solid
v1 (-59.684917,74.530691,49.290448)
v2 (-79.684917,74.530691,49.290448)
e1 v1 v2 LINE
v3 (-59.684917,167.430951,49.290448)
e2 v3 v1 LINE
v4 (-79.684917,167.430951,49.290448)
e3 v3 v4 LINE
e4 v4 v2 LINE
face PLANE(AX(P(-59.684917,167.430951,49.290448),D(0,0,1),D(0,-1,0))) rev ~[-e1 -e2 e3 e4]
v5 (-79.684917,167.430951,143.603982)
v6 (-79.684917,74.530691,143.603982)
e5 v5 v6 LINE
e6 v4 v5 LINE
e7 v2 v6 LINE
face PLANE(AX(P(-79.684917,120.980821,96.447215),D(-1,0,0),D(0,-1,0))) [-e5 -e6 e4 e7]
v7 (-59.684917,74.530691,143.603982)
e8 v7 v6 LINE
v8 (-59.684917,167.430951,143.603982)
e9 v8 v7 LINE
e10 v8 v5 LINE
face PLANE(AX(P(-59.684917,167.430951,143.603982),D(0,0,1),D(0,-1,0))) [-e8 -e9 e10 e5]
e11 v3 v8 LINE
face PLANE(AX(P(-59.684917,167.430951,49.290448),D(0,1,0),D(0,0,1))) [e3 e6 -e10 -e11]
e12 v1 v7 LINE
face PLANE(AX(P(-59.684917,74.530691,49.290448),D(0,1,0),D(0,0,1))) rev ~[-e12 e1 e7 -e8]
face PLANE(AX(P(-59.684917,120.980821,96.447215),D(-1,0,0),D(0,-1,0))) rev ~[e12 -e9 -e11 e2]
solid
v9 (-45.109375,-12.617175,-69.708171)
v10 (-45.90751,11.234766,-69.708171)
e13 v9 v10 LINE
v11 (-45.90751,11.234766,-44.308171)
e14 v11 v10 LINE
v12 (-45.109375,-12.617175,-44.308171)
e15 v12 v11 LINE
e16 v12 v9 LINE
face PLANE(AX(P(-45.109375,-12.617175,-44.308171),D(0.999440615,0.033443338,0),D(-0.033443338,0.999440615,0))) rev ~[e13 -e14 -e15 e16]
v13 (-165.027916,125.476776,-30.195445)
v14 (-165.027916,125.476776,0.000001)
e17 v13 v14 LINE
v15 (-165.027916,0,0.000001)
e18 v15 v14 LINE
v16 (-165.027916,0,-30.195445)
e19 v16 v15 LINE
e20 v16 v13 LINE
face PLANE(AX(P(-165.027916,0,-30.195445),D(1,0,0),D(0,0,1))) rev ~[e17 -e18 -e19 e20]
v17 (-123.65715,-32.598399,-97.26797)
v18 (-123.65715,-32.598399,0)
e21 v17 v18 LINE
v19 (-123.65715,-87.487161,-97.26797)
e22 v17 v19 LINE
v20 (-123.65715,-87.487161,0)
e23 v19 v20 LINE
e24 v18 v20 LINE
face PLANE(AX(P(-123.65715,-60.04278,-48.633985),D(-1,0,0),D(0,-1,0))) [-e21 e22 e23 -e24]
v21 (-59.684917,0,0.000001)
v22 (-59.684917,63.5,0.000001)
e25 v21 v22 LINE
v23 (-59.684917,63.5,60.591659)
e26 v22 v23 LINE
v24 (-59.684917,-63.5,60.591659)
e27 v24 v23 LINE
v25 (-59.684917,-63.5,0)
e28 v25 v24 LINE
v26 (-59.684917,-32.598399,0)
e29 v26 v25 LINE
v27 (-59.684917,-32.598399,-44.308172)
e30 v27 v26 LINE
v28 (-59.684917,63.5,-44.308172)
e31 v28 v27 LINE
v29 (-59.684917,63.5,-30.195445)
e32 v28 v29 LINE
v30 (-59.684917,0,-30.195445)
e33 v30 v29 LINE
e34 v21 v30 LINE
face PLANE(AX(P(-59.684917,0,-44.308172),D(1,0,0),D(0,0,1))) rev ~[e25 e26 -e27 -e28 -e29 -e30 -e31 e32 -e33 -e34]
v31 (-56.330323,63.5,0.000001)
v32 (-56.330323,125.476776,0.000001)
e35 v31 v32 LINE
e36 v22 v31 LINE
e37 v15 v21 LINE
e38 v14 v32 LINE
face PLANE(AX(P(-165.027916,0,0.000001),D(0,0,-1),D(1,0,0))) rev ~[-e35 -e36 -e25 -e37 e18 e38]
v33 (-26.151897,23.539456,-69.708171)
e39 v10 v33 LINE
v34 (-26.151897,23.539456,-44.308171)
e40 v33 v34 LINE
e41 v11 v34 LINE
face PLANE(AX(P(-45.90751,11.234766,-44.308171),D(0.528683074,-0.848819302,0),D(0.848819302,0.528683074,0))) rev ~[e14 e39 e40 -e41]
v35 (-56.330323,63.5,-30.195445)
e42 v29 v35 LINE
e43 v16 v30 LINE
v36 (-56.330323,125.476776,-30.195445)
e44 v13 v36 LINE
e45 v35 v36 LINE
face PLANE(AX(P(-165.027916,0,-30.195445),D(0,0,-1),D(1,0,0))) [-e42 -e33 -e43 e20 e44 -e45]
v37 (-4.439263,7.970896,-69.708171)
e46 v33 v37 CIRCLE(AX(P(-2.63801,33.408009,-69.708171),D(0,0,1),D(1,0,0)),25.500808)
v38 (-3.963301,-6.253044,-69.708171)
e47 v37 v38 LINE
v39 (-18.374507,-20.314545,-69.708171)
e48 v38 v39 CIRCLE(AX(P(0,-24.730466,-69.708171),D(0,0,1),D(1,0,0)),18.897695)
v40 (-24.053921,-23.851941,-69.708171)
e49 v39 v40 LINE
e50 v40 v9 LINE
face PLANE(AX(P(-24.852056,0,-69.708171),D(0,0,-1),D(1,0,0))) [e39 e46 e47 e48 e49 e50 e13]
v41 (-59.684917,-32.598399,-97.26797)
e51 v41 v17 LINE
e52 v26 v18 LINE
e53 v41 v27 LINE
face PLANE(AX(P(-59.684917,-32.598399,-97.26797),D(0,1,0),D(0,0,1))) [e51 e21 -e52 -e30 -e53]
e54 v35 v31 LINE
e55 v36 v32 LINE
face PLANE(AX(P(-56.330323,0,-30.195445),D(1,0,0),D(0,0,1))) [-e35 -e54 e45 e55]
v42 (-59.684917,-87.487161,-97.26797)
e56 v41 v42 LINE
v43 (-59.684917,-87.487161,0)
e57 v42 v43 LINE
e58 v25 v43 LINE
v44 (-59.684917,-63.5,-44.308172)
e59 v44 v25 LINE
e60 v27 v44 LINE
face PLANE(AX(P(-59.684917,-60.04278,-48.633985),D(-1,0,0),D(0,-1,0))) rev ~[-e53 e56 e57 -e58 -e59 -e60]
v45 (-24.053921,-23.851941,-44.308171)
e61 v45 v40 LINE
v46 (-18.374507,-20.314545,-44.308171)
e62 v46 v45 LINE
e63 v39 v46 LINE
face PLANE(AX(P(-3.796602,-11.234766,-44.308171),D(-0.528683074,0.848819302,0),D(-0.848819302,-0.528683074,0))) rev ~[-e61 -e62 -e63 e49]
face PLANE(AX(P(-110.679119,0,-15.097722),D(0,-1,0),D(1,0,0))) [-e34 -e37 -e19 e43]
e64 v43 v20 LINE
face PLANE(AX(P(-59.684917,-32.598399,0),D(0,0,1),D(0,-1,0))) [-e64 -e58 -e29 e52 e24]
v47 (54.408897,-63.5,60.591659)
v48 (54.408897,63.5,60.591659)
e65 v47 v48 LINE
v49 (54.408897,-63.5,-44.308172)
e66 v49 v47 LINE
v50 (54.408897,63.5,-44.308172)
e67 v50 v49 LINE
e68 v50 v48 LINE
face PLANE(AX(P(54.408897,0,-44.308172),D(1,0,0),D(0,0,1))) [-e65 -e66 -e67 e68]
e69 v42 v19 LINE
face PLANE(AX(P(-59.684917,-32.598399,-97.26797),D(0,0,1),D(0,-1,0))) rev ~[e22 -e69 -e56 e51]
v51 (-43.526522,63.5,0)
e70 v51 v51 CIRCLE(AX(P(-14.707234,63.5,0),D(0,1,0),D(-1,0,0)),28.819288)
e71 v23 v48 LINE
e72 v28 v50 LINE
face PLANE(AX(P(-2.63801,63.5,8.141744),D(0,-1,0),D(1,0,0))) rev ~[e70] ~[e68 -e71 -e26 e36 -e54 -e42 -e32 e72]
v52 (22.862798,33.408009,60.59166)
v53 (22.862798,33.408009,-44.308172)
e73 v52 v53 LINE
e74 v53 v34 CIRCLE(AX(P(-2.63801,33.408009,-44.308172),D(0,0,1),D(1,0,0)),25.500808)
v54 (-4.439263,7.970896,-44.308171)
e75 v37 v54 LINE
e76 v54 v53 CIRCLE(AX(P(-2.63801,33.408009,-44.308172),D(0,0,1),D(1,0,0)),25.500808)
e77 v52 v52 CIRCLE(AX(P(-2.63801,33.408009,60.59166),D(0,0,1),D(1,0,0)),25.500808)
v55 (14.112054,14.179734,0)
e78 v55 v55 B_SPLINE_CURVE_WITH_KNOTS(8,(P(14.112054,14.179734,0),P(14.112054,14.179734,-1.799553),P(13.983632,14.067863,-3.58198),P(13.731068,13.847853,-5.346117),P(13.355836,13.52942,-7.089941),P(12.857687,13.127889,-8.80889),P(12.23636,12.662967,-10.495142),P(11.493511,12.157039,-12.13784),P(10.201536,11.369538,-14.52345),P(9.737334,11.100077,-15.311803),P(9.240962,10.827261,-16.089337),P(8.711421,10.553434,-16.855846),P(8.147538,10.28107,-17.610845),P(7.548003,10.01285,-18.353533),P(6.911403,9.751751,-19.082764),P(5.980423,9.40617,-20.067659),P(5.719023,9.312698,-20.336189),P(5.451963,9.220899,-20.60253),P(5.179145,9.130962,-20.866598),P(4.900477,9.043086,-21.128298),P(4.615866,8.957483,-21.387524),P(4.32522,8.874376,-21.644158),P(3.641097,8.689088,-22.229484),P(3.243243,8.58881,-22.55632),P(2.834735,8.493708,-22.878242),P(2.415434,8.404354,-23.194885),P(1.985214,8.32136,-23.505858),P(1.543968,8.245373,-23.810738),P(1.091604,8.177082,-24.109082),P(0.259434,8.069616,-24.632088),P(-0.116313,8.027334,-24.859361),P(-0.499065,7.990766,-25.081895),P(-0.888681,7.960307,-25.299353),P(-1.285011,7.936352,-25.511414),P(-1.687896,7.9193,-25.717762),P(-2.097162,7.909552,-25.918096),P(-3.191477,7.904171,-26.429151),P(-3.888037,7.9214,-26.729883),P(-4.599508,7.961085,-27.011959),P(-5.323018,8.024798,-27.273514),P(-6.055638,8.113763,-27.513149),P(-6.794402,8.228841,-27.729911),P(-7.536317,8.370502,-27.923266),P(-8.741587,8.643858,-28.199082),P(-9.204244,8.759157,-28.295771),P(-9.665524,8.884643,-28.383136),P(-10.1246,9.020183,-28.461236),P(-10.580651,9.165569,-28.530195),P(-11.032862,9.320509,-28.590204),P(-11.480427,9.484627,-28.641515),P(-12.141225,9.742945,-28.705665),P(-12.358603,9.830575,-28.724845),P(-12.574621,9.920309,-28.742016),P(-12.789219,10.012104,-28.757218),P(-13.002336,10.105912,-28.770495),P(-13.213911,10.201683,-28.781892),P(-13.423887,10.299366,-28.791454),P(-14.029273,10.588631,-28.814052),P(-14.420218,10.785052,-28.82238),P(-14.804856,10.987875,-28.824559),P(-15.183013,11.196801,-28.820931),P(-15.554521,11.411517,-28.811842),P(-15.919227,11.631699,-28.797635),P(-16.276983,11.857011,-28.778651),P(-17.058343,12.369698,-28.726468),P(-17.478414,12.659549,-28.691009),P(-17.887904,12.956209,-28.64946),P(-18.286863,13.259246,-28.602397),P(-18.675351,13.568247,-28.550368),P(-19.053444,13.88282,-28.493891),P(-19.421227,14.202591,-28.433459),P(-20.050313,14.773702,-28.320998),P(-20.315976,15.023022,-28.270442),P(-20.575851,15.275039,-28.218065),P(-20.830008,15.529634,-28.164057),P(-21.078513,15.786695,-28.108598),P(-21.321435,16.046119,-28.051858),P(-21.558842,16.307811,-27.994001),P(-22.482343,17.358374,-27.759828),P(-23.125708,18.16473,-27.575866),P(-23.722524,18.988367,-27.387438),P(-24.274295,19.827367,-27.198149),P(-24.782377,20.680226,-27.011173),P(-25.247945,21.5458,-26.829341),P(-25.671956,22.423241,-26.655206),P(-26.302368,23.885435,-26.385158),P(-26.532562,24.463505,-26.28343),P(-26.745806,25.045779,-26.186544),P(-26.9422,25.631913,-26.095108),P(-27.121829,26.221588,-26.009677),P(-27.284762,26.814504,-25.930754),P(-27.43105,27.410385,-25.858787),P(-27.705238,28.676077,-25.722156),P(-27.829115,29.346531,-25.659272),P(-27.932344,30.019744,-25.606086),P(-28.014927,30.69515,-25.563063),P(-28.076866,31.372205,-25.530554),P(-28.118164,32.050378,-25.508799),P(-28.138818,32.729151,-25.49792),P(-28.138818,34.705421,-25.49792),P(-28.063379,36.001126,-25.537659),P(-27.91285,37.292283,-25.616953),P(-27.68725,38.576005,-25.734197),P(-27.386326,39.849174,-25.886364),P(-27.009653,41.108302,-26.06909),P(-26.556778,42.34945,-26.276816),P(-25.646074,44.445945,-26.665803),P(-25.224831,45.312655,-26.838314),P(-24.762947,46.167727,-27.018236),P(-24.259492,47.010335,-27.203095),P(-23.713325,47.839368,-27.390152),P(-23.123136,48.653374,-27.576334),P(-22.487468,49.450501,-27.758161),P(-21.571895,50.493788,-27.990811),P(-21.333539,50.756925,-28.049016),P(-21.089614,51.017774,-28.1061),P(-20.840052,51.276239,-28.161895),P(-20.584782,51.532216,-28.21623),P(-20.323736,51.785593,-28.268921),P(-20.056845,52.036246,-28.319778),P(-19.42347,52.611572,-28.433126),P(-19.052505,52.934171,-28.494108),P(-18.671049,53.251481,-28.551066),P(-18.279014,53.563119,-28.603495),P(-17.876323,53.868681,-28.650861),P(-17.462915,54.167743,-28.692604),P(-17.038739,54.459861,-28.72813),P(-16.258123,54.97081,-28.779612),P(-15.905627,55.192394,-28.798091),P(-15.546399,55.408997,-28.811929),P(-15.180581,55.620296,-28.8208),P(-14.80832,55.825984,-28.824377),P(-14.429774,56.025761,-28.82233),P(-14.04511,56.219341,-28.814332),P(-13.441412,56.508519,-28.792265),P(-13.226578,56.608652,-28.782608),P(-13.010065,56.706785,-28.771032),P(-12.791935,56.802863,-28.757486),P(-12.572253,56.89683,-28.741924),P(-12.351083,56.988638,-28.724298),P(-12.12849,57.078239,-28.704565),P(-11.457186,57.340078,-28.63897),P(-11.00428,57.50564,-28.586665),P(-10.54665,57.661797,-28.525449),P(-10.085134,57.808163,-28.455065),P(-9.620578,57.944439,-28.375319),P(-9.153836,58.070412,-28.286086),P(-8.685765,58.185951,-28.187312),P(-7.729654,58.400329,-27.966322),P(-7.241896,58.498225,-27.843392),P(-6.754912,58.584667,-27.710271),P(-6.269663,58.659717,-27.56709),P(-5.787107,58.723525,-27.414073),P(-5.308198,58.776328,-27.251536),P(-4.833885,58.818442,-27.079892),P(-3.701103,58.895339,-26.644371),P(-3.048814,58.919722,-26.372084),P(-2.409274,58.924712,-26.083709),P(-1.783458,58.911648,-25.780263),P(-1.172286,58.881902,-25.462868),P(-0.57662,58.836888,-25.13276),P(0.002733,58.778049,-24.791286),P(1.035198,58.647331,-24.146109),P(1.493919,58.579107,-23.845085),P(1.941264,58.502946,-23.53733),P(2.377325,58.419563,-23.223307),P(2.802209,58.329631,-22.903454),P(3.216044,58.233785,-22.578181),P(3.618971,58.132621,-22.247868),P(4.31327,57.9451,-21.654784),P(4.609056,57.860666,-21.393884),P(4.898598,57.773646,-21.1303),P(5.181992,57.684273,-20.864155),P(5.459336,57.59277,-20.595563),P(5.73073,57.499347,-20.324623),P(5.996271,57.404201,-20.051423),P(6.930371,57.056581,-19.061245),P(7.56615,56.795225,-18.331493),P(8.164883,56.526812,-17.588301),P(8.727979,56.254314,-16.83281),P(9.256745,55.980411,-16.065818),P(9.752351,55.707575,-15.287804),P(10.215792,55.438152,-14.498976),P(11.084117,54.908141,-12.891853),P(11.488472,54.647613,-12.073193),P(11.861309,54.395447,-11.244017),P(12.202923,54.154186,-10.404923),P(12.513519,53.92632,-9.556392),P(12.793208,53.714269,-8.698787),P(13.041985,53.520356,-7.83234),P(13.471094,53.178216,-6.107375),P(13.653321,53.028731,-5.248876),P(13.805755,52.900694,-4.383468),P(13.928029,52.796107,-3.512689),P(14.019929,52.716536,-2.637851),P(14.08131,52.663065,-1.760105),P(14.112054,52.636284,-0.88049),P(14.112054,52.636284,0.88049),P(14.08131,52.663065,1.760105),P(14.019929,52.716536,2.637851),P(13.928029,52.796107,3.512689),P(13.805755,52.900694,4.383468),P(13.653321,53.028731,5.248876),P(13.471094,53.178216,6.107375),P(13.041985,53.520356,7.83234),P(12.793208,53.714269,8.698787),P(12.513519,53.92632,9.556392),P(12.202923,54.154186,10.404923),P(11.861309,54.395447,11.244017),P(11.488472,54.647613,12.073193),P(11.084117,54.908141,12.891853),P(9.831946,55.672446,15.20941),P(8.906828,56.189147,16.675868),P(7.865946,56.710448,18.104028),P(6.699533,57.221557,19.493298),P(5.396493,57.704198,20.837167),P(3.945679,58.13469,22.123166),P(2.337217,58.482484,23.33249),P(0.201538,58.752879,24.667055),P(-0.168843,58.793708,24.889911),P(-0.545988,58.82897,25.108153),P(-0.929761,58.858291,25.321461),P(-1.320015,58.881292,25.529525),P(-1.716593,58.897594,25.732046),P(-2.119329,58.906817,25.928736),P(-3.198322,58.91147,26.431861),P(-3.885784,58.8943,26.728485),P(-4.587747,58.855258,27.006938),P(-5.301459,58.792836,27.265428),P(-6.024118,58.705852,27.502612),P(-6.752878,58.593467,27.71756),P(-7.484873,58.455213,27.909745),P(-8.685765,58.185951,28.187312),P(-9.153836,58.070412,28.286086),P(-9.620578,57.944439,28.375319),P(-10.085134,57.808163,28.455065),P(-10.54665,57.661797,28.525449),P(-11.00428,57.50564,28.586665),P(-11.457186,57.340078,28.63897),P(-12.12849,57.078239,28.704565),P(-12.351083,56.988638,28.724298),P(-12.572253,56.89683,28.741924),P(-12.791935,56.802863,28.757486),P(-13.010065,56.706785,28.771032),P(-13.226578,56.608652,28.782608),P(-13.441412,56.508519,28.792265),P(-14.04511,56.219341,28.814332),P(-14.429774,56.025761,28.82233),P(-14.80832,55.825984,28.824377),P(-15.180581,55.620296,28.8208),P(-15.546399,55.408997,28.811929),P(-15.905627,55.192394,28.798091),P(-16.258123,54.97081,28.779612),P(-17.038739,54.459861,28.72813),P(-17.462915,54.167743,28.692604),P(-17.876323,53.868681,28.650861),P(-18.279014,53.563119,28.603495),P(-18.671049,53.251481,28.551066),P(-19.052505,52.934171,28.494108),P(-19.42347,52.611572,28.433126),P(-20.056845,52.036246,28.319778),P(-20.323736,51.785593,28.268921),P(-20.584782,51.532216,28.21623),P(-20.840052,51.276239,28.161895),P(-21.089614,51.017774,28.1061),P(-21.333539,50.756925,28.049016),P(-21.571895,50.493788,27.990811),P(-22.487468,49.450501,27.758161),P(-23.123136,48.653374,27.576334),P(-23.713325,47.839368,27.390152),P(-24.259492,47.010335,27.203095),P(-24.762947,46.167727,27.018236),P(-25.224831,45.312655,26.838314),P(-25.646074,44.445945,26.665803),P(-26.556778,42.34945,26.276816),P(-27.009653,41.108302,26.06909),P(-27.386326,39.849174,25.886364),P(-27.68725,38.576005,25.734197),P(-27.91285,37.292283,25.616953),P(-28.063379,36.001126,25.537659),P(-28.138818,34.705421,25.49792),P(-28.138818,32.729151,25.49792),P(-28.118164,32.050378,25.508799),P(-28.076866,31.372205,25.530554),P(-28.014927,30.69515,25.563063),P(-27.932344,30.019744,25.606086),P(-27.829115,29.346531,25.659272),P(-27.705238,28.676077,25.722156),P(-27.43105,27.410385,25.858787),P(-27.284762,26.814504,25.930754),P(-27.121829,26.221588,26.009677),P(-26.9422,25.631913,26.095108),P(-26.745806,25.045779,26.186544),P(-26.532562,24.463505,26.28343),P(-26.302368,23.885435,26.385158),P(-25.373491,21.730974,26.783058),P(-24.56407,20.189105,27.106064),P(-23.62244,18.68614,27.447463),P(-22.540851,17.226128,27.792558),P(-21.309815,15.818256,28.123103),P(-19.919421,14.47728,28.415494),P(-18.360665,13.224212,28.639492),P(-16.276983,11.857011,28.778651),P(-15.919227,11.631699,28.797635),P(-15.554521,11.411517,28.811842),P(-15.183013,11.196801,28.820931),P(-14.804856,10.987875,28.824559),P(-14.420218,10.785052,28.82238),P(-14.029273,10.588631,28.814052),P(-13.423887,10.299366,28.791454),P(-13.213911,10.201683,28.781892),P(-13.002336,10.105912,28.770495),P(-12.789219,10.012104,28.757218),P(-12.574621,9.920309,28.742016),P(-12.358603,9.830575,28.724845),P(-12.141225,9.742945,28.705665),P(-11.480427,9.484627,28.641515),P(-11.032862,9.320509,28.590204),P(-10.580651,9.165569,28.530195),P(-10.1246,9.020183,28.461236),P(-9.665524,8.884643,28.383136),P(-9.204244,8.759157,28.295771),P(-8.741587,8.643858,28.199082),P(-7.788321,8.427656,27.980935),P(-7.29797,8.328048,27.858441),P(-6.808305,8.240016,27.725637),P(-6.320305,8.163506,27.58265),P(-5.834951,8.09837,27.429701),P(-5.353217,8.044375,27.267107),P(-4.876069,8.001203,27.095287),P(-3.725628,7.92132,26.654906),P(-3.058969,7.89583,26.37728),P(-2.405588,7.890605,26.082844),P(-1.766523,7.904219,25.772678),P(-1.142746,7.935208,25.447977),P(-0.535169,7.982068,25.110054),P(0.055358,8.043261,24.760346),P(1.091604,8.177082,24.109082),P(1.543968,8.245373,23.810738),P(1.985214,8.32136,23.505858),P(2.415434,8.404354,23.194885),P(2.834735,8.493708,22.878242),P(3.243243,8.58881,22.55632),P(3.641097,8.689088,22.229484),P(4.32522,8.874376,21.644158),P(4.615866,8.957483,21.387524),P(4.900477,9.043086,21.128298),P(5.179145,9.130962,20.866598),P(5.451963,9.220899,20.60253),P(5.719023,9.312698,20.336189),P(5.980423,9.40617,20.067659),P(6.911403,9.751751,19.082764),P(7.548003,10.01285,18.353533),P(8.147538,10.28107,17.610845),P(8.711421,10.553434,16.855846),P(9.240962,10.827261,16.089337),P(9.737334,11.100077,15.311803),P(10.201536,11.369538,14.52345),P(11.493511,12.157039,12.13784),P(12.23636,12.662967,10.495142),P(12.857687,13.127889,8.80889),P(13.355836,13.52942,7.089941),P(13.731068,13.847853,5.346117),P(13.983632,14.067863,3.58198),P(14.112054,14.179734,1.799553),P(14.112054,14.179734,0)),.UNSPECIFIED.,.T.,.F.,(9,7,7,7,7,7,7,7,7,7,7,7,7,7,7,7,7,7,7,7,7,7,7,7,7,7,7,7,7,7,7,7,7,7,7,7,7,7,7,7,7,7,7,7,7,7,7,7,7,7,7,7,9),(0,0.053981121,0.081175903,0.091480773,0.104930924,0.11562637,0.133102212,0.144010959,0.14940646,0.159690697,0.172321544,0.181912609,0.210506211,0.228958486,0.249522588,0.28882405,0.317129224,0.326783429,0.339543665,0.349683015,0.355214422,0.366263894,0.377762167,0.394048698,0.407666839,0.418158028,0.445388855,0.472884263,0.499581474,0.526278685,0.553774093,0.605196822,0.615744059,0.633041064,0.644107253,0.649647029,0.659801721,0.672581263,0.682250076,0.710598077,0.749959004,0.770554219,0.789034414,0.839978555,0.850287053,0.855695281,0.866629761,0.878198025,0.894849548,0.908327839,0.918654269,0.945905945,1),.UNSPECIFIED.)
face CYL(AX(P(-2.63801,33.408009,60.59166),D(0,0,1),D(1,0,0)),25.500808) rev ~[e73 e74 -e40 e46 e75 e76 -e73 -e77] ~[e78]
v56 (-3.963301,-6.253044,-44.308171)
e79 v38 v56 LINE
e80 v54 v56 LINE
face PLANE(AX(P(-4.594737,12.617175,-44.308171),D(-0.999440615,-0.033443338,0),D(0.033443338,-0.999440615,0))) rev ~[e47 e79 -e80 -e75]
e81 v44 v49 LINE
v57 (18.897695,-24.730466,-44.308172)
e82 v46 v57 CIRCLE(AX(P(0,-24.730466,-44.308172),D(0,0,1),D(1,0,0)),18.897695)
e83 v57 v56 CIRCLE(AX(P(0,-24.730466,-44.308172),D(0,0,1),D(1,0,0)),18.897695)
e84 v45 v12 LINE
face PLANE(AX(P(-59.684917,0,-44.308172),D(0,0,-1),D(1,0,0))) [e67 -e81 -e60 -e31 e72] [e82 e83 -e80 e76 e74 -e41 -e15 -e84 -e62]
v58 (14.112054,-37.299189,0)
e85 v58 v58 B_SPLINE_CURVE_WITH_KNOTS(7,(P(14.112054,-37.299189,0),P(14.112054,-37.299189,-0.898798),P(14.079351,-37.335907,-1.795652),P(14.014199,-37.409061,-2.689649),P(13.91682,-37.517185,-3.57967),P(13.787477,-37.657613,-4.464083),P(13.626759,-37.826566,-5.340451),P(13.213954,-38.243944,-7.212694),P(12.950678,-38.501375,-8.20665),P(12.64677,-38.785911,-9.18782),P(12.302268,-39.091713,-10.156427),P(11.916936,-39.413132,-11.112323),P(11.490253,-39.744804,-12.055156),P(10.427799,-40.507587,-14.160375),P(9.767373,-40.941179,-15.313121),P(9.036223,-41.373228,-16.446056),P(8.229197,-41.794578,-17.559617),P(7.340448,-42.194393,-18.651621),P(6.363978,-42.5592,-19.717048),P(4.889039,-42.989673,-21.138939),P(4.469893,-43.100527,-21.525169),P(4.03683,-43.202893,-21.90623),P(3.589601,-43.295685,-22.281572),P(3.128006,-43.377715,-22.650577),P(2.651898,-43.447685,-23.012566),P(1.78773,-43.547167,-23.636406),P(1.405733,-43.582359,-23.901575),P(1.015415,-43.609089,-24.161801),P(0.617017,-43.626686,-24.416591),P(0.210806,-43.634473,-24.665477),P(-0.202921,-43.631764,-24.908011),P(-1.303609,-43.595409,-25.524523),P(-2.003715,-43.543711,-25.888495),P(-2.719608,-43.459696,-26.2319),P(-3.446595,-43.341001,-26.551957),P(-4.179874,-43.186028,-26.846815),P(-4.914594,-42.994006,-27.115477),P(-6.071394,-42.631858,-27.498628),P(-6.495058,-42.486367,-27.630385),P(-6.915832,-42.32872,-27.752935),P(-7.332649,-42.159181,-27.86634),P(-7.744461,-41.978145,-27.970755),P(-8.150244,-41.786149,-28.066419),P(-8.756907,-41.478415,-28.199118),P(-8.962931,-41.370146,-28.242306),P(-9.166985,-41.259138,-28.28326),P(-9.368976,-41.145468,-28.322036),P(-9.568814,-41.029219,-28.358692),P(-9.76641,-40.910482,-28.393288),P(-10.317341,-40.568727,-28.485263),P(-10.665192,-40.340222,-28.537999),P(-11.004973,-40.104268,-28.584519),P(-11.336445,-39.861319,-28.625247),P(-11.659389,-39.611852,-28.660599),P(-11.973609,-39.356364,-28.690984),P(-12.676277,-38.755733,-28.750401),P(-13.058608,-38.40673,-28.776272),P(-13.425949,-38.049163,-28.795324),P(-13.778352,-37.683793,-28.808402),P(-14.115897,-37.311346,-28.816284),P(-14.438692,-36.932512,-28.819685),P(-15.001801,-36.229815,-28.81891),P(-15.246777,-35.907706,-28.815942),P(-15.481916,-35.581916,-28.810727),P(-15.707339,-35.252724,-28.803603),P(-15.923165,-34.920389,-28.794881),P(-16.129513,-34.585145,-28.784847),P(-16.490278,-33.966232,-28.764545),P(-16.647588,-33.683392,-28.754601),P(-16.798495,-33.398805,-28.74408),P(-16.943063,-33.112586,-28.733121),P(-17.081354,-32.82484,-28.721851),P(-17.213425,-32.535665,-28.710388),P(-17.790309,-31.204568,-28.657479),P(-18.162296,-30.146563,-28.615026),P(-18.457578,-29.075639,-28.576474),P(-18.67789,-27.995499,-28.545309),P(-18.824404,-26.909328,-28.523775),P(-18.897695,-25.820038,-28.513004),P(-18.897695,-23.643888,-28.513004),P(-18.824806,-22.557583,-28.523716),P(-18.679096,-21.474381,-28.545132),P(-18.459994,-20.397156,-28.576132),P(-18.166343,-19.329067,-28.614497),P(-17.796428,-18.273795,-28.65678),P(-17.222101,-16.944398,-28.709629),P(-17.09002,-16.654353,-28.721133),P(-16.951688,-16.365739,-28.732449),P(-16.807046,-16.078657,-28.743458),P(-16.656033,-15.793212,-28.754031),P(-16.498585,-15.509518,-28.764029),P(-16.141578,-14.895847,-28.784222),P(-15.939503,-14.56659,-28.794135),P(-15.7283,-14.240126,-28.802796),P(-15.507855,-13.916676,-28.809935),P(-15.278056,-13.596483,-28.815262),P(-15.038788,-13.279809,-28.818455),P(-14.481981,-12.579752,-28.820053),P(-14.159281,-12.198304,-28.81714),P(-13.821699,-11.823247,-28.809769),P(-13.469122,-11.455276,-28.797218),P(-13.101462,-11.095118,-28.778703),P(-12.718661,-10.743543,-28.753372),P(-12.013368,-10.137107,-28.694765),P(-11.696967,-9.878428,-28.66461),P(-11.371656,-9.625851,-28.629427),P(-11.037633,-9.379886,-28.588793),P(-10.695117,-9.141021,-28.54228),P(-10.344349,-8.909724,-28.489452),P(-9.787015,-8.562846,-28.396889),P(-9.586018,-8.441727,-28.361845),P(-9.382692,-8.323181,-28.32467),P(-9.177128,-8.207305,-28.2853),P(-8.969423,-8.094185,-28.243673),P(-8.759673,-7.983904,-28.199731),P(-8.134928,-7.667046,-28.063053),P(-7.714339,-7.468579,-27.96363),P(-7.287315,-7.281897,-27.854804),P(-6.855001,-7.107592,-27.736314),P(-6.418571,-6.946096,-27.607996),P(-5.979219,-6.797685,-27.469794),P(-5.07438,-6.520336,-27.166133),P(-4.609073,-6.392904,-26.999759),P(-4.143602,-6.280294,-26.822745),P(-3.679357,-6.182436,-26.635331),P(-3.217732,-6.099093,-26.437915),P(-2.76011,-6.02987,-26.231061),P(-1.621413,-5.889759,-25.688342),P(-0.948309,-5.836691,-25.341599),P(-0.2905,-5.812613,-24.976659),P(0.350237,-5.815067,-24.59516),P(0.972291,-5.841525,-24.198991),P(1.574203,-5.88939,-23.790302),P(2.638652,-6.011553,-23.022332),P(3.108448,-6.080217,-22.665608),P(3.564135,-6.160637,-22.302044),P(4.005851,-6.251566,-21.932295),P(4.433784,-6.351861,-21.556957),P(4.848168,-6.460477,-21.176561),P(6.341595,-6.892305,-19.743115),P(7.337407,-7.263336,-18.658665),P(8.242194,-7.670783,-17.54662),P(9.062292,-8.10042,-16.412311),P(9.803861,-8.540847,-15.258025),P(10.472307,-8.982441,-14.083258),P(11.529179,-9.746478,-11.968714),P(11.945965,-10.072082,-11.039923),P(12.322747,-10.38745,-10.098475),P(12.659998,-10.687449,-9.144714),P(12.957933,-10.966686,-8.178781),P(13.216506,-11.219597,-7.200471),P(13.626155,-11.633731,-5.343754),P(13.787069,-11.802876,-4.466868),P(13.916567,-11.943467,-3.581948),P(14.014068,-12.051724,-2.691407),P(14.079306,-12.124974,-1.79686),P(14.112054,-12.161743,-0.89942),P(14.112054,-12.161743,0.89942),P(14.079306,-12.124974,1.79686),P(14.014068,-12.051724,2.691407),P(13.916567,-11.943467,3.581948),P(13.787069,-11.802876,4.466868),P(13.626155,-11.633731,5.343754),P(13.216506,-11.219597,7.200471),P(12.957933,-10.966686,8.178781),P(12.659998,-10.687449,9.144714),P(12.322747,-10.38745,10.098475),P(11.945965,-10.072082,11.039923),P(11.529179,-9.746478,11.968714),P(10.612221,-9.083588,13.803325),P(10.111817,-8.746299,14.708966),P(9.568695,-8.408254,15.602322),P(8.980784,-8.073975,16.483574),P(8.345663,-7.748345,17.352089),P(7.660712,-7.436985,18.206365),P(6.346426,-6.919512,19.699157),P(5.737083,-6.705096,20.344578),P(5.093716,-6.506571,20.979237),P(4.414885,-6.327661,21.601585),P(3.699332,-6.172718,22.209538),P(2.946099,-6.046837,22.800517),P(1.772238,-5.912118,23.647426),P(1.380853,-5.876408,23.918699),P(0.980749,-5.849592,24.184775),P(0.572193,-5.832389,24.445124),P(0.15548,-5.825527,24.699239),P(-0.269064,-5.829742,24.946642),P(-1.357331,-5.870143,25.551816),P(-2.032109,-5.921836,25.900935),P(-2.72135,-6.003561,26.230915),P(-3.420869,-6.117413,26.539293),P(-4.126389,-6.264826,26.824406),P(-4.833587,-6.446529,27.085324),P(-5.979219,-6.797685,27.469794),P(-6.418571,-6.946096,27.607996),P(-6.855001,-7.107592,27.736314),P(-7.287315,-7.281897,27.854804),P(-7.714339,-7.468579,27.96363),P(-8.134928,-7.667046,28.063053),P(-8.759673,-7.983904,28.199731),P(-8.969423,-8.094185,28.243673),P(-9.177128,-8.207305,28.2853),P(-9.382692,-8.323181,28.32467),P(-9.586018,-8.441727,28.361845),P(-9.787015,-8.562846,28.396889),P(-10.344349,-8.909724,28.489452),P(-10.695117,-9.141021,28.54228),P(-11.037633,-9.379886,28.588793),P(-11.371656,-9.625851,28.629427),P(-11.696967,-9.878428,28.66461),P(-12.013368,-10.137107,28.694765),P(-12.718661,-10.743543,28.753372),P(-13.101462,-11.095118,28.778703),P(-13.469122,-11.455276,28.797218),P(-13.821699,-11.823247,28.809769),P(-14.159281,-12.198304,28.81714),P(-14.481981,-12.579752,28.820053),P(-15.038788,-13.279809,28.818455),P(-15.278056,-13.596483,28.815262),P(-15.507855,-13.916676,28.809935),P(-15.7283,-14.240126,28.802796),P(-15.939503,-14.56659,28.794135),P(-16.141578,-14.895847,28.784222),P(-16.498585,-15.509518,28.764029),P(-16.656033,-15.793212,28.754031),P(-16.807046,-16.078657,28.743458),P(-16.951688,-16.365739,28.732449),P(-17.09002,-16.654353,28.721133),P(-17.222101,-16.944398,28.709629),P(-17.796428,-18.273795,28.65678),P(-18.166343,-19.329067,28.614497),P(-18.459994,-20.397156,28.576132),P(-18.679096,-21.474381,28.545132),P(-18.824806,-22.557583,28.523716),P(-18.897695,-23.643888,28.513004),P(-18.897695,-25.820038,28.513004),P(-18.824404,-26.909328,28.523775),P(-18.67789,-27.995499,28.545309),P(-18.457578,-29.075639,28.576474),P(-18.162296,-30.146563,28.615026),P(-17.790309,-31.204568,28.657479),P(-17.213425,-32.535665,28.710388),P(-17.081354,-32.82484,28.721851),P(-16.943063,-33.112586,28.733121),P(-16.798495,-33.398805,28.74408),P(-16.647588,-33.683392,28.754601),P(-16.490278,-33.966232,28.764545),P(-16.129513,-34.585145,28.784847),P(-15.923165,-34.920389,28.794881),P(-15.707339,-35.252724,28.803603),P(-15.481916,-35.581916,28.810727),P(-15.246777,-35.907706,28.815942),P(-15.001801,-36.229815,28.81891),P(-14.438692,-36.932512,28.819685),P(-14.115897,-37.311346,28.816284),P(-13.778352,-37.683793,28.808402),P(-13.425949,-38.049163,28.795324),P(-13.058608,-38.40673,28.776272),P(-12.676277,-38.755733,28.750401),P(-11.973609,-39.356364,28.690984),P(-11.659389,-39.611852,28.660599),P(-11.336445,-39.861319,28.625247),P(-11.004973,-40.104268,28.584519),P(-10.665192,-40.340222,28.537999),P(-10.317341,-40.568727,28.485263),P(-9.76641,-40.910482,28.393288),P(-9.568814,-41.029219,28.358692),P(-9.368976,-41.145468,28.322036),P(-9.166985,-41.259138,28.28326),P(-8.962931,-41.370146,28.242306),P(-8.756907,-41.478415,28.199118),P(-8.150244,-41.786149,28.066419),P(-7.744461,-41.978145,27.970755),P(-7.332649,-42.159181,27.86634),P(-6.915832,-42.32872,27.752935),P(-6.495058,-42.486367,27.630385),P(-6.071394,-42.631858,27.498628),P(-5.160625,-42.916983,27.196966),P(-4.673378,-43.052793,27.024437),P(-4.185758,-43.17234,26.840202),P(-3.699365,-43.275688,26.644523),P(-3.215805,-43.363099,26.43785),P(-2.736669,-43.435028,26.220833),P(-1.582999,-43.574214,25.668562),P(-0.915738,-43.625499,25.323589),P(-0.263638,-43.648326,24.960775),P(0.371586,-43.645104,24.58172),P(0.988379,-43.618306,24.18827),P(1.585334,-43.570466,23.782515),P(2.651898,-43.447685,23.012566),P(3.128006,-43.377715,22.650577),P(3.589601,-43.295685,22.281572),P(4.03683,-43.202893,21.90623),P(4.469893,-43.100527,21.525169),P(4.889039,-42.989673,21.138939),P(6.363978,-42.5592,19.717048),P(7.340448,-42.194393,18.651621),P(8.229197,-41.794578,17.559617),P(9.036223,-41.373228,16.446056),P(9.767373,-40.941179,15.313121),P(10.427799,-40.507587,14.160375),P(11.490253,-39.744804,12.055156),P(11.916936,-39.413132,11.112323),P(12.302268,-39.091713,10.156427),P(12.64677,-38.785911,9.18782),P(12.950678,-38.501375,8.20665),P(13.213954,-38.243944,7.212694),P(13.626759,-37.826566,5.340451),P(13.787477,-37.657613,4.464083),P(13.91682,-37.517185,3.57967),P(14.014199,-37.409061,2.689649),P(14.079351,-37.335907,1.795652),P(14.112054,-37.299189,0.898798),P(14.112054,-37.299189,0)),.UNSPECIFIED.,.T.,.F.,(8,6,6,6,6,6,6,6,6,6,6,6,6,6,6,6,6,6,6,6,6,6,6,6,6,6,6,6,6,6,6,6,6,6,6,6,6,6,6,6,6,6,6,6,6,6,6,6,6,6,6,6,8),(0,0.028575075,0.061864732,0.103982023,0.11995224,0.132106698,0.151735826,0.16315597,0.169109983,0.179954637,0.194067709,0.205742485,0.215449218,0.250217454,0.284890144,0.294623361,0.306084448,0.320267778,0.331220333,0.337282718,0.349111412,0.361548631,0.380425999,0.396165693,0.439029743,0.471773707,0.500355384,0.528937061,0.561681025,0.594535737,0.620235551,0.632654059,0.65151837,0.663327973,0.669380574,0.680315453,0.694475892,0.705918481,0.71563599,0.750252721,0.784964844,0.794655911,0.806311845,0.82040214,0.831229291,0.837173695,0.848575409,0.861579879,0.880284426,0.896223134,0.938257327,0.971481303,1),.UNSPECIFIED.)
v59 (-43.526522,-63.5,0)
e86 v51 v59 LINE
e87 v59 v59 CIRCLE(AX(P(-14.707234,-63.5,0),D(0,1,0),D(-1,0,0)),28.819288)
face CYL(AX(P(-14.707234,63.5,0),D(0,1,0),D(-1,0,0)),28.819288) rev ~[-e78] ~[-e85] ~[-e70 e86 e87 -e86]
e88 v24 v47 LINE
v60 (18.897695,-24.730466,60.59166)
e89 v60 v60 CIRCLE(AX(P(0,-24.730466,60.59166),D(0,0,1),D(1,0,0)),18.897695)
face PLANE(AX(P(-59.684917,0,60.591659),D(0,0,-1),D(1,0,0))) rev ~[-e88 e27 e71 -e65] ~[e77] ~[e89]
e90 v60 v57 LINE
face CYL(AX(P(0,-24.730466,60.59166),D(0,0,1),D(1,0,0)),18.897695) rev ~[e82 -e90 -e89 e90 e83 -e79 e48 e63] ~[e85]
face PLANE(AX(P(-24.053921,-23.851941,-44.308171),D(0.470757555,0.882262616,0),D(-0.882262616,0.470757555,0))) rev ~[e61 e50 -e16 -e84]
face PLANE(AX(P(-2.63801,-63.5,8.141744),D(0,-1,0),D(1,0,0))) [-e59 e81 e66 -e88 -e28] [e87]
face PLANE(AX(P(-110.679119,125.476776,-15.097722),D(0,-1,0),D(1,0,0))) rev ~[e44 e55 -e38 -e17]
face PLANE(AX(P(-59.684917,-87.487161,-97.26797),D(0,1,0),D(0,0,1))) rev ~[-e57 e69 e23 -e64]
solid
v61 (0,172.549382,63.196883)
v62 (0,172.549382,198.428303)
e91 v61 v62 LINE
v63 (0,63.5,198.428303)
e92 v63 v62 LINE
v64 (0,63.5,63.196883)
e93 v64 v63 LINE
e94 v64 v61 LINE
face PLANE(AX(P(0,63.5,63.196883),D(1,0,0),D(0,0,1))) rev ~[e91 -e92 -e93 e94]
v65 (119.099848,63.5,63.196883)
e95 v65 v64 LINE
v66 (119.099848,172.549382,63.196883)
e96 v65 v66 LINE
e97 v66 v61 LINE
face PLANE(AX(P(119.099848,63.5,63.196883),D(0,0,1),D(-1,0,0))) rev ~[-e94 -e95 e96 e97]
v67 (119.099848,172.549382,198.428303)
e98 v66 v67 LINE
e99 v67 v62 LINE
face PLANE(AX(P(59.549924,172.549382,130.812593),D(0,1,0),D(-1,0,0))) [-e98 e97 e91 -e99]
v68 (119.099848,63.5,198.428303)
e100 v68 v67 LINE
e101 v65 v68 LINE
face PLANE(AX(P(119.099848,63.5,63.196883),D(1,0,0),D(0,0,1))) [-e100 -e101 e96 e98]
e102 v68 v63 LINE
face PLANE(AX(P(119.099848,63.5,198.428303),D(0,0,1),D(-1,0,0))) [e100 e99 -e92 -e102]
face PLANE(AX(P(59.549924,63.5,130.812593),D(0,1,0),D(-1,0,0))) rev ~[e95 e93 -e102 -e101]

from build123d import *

# Parameters (mm, degrees)
F0_W      = 114.093814
F0_H      = 104.899831
F1_DEPTH  = 63.5
F3_R      = 28.819288
F4_DEPTH  = 181.759881
F7_DEPTH  = 25.4
F8_W      = 108.697593
F8_H      = 30.195445
F9_DEPTH  = 125.476776
F10_W     = 92.900261
F10_H     = 94.313533
F11_DEPTH = 20
F12_R     = 18.897695
F12_R_2   = 25.500808
F13_DEPTH = 174.705634
F14_W     = 54.888762
F14_H     = 97.26797
F15_DEPTH = 63.972233
F16_W     = 119.099848
F16_H     = 135.23142
F17_DEPTH = 109.049382


with BuildPart() as f1:
    # F0 (on Front) → F1 (new body, symmetric)
    with BuildSketch(Plane.XZ):
        with Locations((-2.63801, 8.141744)):
            Rectangle(F0_W, F0_H)
    extrude(amount=F1_DEPTH, both=True)

    # F3 (on face) → F4 (cut)
    with BuildSketch(Plane(origin=(0, 63.5, 0), x_dir=(-1, 0, 0), z_dir=(0, 1, 0))):
        with Locations((14.707234, 0)):
            Circle(F3_R)
    extrude(amount=-F4_DEPTH, mode=Mode.SUBTRACT)

    # F6 (on face) → F7 (join)
    with BuildSketch(Plane(origin=(0, 0, -44.308171), x_dir=(1, 0, 0), z_dir=(0, 0, -1))):
        Polygon((-3.796602, 11.234766), (-24.053921, 23.851941), (-45.109375, 12.617175), (-45.90751, -11.234766), (-25.650191, -23.851941), (-4.594737, -12.617175), align=None)
    extrude(amount=F7_DEPTH)

    # F8 (on face) → F9 (join)
    with BuildSketch(Plane.XZ):
        with Locations((-110.679119, -15.097722)):
            Rectangle(F8_W, F8_H)
    extrude(amount=-F9_DEPTH)

    # F12 (on face) → F13 (cut)
    with BuildSketch(Plane.XY.offset(60.59166)):
        with Locations((0, -24.730466)):
            Circle(F12_R)
        with Locations((-2.63801, 33.408009)):
            Circle(F12_R_2)
    extrude(amount=-F13_DEPTH, mode=Mode.SUBTRACT)

    # F14 (on face) → F15 (join)
    with BuildSketch(Plane(origin=(-59.684917, 0, 0), x_dir=(0, -1, 0), z_dir=(-1, 0, 0))):
        with Locations((60.04278, -48.633985)):
            Rectangle(F14_W, F14_H)
    extrude(amount=F15_DEPTH)


with BuildPart() as f11:
    # F10 (on face) → F11 (new body)
    with BuildSketch(Plane(origin=(-59.684917, 0, 0), x_dir=(0, -1, 0), z_dir=(-1, 0, 0))):
        with Locations((-120.980821, 96.447215)):
            Rectangle(F10_W, F10_H)
    extrude(amount=F11_DEPTH)


with BuildPart() as f17:
    # F16 (on face) → F17 (new body)
    with BuildSketch(Plane(origin=(0, 63.5, 0), x_dir=(-1, 0, 0), z_dir=(0, 1, 0))):
        with Locations((-59.549924, 130.812593)):
            Rectangle(F16_W, F16_H)
    extrude(amount=F17_DEPTH)


solid = Compound([f1.part, f11.part, f17.part])
